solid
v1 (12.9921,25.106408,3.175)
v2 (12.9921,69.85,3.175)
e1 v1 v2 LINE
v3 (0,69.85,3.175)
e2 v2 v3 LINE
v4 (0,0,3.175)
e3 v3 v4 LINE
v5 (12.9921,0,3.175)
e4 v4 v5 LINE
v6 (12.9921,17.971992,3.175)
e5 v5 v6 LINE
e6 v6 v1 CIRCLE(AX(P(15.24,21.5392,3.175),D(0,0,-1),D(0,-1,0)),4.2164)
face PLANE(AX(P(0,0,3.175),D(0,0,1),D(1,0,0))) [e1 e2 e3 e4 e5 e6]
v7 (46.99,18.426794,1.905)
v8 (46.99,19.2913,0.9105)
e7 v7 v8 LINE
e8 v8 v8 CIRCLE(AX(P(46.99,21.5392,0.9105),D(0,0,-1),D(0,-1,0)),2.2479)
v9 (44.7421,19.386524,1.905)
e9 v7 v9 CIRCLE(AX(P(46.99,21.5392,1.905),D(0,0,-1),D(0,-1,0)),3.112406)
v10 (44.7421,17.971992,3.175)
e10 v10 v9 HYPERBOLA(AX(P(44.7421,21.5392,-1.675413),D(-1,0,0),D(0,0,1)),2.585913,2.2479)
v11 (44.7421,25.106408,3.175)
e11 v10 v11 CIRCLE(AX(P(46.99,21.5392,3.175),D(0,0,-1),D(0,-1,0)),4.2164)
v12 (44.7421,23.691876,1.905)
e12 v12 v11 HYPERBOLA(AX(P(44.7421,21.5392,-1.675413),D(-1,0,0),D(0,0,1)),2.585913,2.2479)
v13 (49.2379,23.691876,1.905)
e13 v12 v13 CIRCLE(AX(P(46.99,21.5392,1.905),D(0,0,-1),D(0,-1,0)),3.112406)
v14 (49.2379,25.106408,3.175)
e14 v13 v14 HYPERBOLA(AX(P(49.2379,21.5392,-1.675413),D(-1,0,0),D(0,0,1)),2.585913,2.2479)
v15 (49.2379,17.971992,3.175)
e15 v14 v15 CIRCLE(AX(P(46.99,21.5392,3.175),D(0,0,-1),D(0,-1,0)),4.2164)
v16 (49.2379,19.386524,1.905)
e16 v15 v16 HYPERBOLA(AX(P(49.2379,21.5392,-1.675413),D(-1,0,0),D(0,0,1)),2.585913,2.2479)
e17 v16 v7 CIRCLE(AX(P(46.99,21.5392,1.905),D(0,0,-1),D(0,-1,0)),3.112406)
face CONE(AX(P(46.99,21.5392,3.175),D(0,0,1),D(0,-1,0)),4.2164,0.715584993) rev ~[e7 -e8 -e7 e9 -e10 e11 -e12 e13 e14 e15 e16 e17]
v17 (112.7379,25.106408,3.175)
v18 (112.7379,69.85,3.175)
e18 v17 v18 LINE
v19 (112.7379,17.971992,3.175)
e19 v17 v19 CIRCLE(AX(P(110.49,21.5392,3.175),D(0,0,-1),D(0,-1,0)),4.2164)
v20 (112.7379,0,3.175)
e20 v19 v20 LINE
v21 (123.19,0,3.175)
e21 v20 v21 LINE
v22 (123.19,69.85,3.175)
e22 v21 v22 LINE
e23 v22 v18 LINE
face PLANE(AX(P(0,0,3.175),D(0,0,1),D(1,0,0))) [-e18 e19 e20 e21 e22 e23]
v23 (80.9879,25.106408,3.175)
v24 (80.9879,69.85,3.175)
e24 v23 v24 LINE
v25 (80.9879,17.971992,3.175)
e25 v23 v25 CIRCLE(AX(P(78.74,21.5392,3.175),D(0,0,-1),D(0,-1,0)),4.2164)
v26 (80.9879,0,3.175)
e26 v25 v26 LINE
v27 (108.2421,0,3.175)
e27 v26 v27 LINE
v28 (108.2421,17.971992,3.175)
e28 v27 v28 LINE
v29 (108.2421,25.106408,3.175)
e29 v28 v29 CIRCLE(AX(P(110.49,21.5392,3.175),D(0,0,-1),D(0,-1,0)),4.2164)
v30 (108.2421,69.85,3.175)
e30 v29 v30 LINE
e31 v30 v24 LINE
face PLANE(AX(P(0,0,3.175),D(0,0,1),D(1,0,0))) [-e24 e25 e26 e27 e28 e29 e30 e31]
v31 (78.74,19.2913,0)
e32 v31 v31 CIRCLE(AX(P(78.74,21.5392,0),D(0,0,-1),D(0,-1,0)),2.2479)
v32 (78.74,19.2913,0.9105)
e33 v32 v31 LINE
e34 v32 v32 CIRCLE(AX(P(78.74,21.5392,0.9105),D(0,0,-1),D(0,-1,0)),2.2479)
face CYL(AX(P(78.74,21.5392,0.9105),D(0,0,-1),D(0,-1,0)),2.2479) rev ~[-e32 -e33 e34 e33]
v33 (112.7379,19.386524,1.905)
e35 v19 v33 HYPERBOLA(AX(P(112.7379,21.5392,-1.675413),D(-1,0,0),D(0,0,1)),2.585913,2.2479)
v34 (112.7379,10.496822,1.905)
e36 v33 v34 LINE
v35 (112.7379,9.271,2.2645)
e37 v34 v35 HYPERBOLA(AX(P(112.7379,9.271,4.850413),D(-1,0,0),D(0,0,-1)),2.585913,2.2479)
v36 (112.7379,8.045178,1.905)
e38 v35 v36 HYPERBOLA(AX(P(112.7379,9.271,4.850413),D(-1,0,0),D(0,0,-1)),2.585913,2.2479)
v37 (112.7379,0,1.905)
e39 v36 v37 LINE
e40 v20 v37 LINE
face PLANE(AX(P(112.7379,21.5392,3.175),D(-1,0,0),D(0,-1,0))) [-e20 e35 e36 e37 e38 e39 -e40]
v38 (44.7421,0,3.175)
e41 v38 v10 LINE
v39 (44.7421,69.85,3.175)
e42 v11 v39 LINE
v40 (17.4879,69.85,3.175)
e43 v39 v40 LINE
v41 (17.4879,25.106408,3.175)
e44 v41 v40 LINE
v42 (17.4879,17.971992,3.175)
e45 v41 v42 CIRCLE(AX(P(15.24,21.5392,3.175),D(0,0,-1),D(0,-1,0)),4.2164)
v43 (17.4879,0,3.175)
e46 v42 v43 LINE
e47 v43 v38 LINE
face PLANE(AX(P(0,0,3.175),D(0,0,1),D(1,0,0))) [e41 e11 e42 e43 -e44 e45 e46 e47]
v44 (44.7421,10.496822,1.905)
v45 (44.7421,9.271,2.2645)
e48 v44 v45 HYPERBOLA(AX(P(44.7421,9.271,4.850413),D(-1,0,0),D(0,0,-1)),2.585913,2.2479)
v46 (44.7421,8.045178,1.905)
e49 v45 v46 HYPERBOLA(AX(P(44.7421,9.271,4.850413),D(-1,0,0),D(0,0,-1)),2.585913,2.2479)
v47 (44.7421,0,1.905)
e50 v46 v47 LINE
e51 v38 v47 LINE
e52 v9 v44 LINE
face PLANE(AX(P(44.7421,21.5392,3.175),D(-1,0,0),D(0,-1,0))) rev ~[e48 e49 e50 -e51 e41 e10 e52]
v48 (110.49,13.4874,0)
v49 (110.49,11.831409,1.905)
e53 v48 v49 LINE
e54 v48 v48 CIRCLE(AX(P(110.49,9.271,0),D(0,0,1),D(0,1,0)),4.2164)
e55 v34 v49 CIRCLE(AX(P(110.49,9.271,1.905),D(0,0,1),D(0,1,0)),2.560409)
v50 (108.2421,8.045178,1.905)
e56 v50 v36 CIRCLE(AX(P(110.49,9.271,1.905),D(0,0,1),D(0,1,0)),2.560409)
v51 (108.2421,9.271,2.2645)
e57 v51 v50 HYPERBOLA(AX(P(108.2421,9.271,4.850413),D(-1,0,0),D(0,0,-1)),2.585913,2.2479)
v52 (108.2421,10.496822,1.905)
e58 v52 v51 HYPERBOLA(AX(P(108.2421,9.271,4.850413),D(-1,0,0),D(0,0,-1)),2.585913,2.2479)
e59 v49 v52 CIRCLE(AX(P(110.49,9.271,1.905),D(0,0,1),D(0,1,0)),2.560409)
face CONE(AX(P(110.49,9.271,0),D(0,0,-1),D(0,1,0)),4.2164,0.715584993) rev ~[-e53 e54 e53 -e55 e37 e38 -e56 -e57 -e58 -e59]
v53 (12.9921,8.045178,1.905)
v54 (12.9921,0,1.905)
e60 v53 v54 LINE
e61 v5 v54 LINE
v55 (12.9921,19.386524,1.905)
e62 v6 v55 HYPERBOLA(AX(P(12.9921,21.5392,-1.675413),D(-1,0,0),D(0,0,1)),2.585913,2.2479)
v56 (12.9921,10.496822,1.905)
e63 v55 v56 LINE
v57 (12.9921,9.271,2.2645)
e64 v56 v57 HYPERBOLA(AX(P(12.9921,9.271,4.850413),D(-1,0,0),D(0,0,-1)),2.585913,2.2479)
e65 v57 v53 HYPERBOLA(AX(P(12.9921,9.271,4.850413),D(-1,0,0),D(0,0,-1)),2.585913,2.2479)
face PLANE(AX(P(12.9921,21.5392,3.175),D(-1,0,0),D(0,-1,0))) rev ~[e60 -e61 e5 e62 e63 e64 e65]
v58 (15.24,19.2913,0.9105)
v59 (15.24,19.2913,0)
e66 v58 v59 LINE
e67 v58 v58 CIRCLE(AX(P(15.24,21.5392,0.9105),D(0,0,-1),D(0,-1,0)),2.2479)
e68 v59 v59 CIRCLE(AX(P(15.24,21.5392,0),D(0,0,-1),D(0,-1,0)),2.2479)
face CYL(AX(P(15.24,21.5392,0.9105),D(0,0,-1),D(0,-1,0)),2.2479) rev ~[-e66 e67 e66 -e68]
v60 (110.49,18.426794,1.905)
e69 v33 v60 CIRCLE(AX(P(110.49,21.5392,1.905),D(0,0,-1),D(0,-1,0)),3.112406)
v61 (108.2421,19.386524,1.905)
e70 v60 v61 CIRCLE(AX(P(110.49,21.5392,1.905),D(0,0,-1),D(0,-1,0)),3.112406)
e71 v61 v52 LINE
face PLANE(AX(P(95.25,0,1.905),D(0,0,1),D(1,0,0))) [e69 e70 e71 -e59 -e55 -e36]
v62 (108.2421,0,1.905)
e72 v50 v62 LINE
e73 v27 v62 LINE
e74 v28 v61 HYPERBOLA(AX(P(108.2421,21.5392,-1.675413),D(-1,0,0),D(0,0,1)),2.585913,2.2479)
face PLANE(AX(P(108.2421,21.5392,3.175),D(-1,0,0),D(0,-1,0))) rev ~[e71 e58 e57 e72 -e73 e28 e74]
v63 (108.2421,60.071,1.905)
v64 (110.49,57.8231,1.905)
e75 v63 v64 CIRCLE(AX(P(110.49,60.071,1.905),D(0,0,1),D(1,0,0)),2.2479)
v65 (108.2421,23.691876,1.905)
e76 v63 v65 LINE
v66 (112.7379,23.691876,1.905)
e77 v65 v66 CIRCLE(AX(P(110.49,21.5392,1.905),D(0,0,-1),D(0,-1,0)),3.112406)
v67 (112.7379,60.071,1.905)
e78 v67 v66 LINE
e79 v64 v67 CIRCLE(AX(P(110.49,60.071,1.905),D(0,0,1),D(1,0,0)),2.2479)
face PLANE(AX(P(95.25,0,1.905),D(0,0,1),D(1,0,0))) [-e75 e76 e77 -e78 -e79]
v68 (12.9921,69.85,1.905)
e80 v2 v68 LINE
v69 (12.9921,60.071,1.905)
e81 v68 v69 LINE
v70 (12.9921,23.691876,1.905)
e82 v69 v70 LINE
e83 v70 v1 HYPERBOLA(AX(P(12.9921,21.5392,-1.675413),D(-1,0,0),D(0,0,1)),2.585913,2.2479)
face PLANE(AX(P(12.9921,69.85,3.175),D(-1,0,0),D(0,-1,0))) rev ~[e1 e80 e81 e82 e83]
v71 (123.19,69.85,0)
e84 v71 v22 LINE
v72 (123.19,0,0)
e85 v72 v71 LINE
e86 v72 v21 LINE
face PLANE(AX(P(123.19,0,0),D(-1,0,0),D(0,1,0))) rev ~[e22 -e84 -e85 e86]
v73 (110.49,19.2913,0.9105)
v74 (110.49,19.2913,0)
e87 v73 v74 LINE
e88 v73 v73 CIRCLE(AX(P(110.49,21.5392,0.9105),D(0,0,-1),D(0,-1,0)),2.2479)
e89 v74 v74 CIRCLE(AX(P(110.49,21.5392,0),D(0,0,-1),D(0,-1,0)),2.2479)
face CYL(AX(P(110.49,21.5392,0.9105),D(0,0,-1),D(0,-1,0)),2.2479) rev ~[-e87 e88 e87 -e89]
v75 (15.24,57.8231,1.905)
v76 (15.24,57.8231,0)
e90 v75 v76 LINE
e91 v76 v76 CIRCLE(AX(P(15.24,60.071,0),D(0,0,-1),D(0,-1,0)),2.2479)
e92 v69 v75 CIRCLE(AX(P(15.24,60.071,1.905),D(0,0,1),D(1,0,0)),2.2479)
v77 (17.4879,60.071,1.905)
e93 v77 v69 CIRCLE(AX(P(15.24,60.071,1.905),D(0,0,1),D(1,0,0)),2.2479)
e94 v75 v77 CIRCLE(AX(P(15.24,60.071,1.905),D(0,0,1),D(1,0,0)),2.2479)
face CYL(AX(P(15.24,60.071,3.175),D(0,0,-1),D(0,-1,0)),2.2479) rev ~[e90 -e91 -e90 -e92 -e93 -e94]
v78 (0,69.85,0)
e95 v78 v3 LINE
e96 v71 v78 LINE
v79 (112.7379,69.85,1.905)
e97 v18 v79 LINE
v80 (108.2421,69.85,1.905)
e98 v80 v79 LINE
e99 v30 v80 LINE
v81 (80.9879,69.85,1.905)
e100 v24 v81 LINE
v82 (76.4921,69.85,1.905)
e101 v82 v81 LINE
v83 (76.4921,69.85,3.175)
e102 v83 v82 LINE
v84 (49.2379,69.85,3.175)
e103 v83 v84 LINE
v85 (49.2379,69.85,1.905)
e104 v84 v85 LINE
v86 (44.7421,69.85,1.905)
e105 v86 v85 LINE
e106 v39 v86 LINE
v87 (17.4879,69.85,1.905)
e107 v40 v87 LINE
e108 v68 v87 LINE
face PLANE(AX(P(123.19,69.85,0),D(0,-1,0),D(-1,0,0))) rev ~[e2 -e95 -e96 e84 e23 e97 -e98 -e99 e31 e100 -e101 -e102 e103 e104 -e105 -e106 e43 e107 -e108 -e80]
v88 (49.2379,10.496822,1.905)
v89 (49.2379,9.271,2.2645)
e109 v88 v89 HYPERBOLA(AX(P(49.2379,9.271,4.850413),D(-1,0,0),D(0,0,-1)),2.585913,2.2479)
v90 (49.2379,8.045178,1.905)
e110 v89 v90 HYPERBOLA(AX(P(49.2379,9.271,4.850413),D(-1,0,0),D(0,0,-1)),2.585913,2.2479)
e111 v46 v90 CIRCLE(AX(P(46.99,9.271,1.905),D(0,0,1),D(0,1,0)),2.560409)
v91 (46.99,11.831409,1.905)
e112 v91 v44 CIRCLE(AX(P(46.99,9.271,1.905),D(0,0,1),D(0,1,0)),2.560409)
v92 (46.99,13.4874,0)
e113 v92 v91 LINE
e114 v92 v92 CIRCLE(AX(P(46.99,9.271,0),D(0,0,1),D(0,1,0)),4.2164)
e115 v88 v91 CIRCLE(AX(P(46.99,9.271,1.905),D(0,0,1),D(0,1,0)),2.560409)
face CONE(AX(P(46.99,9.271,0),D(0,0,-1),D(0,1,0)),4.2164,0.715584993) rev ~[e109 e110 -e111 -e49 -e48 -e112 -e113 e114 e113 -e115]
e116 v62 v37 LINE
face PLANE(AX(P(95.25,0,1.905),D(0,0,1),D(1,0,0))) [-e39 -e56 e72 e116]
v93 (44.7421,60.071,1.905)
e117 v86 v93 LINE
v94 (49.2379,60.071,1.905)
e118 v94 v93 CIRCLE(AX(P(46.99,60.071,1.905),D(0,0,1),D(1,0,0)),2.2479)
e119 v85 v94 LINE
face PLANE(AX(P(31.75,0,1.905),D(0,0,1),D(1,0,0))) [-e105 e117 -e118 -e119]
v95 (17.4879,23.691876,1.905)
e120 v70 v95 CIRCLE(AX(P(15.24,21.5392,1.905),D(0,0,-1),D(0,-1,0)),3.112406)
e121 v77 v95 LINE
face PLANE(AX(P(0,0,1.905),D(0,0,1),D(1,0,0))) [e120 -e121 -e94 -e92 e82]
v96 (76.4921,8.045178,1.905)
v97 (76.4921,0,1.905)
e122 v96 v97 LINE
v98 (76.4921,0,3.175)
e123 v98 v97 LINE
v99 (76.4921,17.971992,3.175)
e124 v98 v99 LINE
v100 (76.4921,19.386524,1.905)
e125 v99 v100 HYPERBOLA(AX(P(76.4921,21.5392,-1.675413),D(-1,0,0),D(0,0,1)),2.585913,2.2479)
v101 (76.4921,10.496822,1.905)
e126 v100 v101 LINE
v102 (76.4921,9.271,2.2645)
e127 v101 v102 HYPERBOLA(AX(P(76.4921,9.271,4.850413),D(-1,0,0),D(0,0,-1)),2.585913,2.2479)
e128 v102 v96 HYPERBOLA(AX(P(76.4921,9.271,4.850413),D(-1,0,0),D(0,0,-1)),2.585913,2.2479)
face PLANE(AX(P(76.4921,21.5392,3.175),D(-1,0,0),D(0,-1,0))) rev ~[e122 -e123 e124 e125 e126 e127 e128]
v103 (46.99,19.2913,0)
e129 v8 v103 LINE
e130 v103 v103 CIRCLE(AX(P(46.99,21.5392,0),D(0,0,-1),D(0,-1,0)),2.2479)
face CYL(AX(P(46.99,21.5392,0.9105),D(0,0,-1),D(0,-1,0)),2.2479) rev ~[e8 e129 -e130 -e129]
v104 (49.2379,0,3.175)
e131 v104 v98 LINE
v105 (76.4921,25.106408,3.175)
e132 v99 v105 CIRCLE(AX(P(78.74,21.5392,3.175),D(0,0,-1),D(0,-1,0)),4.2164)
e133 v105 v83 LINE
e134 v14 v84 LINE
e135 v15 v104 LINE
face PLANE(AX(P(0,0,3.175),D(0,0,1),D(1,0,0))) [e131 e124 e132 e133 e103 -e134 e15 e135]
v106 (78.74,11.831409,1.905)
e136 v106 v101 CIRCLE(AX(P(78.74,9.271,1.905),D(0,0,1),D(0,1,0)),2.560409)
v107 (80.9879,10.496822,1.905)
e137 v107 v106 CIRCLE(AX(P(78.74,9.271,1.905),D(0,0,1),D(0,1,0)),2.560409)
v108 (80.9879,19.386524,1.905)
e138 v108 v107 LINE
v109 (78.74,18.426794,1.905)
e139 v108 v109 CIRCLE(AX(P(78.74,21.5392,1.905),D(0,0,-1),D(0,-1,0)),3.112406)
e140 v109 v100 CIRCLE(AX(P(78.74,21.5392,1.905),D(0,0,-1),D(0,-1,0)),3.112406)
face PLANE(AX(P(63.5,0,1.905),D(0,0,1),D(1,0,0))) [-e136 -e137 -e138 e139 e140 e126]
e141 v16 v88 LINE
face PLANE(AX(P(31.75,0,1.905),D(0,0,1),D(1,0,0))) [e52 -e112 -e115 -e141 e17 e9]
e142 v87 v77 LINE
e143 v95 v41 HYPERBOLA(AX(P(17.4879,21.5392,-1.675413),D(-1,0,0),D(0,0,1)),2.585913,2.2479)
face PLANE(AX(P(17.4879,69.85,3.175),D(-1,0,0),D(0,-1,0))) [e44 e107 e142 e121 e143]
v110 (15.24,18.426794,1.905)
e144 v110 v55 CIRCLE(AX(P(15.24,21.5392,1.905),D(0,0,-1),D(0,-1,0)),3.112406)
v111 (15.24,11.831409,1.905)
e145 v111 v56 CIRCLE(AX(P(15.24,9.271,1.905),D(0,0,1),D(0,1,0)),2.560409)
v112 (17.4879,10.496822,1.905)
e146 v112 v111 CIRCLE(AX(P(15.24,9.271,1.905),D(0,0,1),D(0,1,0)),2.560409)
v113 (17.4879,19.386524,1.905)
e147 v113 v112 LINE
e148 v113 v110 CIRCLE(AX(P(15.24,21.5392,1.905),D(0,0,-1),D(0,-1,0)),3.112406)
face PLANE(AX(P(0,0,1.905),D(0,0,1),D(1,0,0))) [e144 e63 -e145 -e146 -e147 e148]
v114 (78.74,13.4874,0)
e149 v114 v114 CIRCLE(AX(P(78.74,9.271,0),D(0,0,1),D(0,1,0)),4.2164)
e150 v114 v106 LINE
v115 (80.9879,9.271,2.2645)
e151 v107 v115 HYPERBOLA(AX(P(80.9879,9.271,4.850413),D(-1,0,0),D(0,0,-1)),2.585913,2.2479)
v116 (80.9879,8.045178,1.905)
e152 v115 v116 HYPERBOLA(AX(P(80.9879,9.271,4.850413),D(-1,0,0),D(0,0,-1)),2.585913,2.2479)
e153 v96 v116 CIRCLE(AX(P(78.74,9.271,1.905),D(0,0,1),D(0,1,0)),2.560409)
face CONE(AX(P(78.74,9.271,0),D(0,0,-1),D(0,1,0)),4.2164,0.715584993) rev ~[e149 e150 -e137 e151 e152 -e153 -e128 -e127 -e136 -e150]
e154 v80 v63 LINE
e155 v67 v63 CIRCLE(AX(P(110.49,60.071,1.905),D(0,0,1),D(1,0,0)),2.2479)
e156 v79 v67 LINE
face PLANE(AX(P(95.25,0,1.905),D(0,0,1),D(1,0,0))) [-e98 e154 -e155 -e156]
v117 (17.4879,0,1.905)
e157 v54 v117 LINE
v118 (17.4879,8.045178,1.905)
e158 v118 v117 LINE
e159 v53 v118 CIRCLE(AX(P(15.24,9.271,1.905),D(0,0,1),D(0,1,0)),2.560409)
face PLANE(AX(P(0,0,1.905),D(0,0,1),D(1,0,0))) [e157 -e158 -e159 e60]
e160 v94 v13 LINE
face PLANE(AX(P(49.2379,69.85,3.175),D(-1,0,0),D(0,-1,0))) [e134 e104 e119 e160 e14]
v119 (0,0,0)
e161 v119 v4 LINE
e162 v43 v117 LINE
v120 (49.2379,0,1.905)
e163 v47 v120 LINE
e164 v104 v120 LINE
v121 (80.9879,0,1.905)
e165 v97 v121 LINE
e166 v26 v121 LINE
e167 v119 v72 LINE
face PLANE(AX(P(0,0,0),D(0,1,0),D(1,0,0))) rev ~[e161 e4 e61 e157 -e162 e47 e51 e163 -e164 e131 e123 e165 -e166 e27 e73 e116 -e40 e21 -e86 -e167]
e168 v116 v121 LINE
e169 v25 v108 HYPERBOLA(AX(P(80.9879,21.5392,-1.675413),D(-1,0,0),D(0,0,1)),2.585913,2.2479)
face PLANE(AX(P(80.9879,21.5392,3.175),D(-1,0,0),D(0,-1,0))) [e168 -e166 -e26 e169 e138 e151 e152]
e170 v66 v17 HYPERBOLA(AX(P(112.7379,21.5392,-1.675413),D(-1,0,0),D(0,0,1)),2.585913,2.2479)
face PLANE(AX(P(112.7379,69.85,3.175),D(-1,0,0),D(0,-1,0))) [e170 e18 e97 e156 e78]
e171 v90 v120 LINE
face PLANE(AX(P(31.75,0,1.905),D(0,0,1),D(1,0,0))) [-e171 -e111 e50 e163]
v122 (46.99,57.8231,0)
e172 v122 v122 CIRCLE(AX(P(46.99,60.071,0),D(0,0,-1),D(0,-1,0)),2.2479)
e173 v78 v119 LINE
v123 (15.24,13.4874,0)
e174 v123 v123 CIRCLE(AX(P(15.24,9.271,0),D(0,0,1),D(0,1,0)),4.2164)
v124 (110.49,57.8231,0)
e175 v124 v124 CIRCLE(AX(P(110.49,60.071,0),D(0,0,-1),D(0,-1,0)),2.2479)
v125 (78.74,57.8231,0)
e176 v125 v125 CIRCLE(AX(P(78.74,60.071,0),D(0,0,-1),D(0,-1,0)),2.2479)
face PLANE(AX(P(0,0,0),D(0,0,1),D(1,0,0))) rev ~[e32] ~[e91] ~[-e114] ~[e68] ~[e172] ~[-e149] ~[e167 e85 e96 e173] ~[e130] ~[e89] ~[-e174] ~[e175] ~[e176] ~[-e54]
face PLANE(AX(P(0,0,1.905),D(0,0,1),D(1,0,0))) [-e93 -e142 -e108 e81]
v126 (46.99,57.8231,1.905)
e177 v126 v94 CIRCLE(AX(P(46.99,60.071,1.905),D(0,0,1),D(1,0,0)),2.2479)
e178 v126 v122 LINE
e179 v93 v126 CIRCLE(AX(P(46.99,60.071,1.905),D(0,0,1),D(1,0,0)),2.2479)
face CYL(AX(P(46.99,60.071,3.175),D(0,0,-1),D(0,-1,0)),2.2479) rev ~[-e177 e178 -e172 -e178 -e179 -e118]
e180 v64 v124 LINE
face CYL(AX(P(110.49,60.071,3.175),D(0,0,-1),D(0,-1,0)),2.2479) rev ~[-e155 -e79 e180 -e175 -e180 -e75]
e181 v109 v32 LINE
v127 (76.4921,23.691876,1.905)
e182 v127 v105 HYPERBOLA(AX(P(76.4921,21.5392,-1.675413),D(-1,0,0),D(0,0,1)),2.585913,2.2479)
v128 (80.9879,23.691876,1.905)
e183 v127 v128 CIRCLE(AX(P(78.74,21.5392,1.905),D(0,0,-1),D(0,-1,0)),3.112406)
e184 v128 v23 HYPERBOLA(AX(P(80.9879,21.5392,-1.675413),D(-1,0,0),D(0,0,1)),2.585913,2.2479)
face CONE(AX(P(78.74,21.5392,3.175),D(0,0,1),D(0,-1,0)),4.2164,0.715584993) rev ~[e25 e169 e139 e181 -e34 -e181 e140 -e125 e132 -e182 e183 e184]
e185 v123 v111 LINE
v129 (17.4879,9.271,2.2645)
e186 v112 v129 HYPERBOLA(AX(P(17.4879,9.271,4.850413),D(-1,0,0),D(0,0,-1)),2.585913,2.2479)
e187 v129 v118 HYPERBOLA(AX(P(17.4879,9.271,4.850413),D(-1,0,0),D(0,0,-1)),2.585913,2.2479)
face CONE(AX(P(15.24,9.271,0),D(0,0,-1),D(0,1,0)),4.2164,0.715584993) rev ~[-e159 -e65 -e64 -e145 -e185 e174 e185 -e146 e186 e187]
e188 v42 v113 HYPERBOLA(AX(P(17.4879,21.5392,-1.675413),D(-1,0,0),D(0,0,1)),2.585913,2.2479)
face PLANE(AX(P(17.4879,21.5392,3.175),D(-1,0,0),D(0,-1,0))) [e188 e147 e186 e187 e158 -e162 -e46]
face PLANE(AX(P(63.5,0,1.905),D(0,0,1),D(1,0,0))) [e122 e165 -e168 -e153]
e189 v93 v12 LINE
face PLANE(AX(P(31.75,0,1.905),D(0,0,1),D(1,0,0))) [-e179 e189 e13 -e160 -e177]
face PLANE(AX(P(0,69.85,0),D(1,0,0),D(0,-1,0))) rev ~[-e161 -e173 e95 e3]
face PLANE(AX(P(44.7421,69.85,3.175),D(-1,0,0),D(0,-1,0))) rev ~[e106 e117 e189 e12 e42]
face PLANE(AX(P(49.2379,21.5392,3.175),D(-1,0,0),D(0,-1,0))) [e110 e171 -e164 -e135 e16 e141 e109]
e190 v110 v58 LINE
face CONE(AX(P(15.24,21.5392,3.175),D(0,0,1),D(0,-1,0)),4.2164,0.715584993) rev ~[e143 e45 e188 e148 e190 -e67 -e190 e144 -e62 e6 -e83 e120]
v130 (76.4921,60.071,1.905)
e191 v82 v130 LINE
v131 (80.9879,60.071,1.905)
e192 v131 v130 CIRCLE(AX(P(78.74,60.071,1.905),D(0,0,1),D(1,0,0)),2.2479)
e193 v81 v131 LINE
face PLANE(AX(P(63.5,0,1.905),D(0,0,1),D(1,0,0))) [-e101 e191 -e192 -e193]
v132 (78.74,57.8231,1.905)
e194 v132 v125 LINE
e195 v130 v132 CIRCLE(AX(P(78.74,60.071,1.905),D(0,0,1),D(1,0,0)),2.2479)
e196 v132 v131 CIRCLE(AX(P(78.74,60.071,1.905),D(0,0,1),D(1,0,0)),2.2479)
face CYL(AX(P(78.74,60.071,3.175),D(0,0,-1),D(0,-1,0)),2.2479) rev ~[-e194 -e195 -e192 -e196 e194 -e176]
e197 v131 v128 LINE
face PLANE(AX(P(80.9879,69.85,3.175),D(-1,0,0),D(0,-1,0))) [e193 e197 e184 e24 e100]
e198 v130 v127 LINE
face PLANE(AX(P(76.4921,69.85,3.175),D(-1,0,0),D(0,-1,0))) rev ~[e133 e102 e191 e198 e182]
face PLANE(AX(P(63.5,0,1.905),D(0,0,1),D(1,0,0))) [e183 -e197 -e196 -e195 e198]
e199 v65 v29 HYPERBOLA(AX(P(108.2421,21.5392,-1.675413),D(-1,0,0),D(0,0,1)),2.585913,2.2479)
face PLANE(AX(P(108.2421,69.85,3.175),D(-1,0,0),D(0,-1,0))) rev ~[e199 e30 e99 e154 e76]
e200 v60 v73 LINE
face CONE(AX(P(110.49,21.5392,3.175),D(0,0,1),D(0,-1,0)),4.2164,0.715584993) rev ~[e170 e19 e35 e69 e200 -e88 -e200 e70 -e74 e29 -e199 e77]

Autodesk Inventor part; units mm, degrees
ref_plane "YZ Plane" through (0, 0, 0) normal (1, 0, 0) x (0, 1, 0)
ref_plane "XZ Plane" through (0, 0, 0) normal (0, 1, 0) x (-1, 0, 0)
ref_plane "XY Plane" through (0, 0, 0) normal (0, 0, 1) x (1, 0, 0)
sketch "Sketch1" plane through (0, 0, 0) normal (0, 0, 1) x (1, 0, 0)
  line L0 (0, 0) -> (123.19, 0)
  line L1 (123.19, 0) -> (123.19, 69.85)
  line L2 (123.19, 69.85) -> (0, 69.85)
  line L3 (0, 69.85) -> (0, 0)
  dimension "d0" = 69.85
  dimension "d1" = 123.19
extrude "Extrusion1" add sketch "Sketch1" along normal blind 3.175
sketch "Sketch2" plane through (0, 0, 3.175) normal (0, 0, 1) x (1, 0, 0)
  line L0 (123.19, 69.85) -> (0, 69.85) projected
  line L1 (0, 69.85) -> (0, 0) projected
  point P0 (15.24, 60.071)
  point P1 (46.99, 60.071)
  point P2 (78.74, 60.071)
  point P3 (110.49, 60.071)
  dimension "d5" = 9.779
  dimension "d6" = 15.24
  dimension "d7" = 31.75
  dimension "d8" = 31.75
  dimension "d9" = 31.75
hole "Hole1" at (15.24, 60.071, 3.175) at (46.99, 60.071, 3.175) at (78.74, 60.071, 3.175) at (110.49, 60.071, 3.175) direction (0, 0, -1) diameter 4.4958 end through all clearance for "Flat Head Machine Screw (82)" size "#8" standard "Ansi Unified Screw Threads"
sketch "Sketch3" plane through (0, 0, 3.175) normal (0, 0, 1) x (1, 0, 0)
  circle A0 centre (110.49, 60.071) radius 2.2479 projected
  circle A1 centre (46.99, 60.071) radius 2.2479 projected
  circle A2 centre (15.24, 60.071) radius 2.2479 projected
  circle A3 centre (78.74, 60.071) radius 2.2479 projected
  line L0 (0, 0) -> (123.19, 0) projected
  line L1 (123.19, 0) -> (123.19, 69.85) projected
  line L2 (123.19, 69.85) -> (0, 69.85) projected
  line L3 (0, 69.85) -> (0, 0) projected
  point P0 (15.24, 21.5392)
  point P1 (46.99, 21.5392)
  point P2 (78.74, 21.5392)
  point P3 (110.49, 21.5392)
hole "Hole2" at (15.24, 21.5392, 3.175) at (46.99, 21.5392, 3.175) at (78.74, 21.5392, 3.175) at (110.49, 21.5392, 3.175) direction (0, 0, -1) diameter 4.4958 end through all countersink diameter 8.4328 countersink angle 82 clearance for "Flat Head Machine Screw (82)" size "#8" standard "Ansi Unified Screw Threads"
sketch "Sketch4" plane through (0, 0, 0) normal (0, 0, -1) x (-1, 0, 0)
  circle A0 centre (-78.74, 21.5392) radius 2.2479 projected
  circle A1 centre (-15.24, 21.5392) radius 2.2479 projected
  circle A2 centre (-46.99, 21.5392) radius 2.2479 projected
  circle A3 centre (-110.49, 21.5392) radius 2.2479 projected
  circle A4 centre (-78.74, 60.071) radius 2.2479 projected
  circle A5 centre (-15.24, 60.071) radius 2.2479 projected
  circle A6 centre (-46.99, 60.071) radius 2.2479 projected
  circle A7 centre (-110.49, 60.071) radius 2.2479 projected
  line L0 (0, 0) -> (-123.19, 0) projected
  line L1 (0, 69.85) -> (0, 0) projected
  line L2 (-123.19, 69.85) -> (0, 69.85) projected
  line L3 (-123.19, 0) -> (-123.19, 69.85) projected
  point P0 (-110.49, 9.271)
  point P1 (-78.74, 9.271)
  point P2 (-46.99, 9.271)
  point P3 (-15.24, 9.271)
  dimension "d26" = 50.8
hole "Hole3" at (110.49, 9.271, 0) at (78.74, 9.271, 0) at (46.99, 9.271, 0) at (15.24, 9.271, 0) direction (0, 0, 1) diameter 4.4958 end through all countersink diameter 8.4328 countersink angle 82 clearance for "Flat Head Machine Screw (82)" size "#8" standard "Ansi Unified Screw Threads"
sketch "Sketch5" plane through (0, 0, 3.175) normal (0, 0, 1) x (1, 0, 0)
  circle A0 centre (46.99, 9.271) radius 2.2479 construction
  circle A1 centre (110.49, 9.271) radius 2.2479 construction
  circle A2 centre (78.74, 9.271) radius 2.2479 construction
  circle A3 centre (15.24, 9.271) radius 2.2479 construction
  circle A4 centre (78.74, 21.5392) radius 4.2164 construction
  circle A5 centre (15.24, 21.5392) radius 4.2164 construction
  circle A6 centre (46.99, 21.5392) radius 4.2164 construction
  circle A7 centre (110.49, 21.5392) radius 4.2164 construction
  circle A8 centre (78.74, 60.071) radius 2.2479 construction
  circle A9 centre (15.24, 60.071) radius 2.2479 construction
  circle A10 centre (46.99, 60.071) radius 2.2479 construction
  circle A11 centre (110.49, 60.071) radius 2.2479 construction
  line L0 (0, 0) -> (123.19, 0) construction
  line L1 (123.19, 0) -> (123.19, 69.85) construction
  line L2 (123.19, 69.85) -> (0, 69.85) construction
  line L3 (0, 69.85) -> (0, 0) construction
  circle A12 centre (15.24, 21.5392) radius 2.2479 projected
  line L4 (12.9921, 69.85) -> (12.9921, 0)
  line L5 (17.4879, 69.85) -> (17.4879, 0)
  line L6 (12.9921, 69.85) -> (17.4879, 69.85)
  line L7 (12.9921, 0) -> (17.4879, 0)
  line L8 (0, 0) -> (123.19, 0) projected
  circle A13 centre (15.24, 60.071) radius 2.2479 projected
extrude "Extrusion2" cut sketch "Sketch5" against normal blind 1.27 contours L5 L7 L4 A12 | A12 L4 A13 L5 | A13 L4 L6 L5
pattern_linear "Rectangular Pattern1" count 4 spacing 31.75 along (1, 0, 0) of "Extrusion2"
equation "\"d8\" = d7"
equation "\"d9\" = d7"
properties part number "talon stack zip tie mount" material "ABS Plastic"
